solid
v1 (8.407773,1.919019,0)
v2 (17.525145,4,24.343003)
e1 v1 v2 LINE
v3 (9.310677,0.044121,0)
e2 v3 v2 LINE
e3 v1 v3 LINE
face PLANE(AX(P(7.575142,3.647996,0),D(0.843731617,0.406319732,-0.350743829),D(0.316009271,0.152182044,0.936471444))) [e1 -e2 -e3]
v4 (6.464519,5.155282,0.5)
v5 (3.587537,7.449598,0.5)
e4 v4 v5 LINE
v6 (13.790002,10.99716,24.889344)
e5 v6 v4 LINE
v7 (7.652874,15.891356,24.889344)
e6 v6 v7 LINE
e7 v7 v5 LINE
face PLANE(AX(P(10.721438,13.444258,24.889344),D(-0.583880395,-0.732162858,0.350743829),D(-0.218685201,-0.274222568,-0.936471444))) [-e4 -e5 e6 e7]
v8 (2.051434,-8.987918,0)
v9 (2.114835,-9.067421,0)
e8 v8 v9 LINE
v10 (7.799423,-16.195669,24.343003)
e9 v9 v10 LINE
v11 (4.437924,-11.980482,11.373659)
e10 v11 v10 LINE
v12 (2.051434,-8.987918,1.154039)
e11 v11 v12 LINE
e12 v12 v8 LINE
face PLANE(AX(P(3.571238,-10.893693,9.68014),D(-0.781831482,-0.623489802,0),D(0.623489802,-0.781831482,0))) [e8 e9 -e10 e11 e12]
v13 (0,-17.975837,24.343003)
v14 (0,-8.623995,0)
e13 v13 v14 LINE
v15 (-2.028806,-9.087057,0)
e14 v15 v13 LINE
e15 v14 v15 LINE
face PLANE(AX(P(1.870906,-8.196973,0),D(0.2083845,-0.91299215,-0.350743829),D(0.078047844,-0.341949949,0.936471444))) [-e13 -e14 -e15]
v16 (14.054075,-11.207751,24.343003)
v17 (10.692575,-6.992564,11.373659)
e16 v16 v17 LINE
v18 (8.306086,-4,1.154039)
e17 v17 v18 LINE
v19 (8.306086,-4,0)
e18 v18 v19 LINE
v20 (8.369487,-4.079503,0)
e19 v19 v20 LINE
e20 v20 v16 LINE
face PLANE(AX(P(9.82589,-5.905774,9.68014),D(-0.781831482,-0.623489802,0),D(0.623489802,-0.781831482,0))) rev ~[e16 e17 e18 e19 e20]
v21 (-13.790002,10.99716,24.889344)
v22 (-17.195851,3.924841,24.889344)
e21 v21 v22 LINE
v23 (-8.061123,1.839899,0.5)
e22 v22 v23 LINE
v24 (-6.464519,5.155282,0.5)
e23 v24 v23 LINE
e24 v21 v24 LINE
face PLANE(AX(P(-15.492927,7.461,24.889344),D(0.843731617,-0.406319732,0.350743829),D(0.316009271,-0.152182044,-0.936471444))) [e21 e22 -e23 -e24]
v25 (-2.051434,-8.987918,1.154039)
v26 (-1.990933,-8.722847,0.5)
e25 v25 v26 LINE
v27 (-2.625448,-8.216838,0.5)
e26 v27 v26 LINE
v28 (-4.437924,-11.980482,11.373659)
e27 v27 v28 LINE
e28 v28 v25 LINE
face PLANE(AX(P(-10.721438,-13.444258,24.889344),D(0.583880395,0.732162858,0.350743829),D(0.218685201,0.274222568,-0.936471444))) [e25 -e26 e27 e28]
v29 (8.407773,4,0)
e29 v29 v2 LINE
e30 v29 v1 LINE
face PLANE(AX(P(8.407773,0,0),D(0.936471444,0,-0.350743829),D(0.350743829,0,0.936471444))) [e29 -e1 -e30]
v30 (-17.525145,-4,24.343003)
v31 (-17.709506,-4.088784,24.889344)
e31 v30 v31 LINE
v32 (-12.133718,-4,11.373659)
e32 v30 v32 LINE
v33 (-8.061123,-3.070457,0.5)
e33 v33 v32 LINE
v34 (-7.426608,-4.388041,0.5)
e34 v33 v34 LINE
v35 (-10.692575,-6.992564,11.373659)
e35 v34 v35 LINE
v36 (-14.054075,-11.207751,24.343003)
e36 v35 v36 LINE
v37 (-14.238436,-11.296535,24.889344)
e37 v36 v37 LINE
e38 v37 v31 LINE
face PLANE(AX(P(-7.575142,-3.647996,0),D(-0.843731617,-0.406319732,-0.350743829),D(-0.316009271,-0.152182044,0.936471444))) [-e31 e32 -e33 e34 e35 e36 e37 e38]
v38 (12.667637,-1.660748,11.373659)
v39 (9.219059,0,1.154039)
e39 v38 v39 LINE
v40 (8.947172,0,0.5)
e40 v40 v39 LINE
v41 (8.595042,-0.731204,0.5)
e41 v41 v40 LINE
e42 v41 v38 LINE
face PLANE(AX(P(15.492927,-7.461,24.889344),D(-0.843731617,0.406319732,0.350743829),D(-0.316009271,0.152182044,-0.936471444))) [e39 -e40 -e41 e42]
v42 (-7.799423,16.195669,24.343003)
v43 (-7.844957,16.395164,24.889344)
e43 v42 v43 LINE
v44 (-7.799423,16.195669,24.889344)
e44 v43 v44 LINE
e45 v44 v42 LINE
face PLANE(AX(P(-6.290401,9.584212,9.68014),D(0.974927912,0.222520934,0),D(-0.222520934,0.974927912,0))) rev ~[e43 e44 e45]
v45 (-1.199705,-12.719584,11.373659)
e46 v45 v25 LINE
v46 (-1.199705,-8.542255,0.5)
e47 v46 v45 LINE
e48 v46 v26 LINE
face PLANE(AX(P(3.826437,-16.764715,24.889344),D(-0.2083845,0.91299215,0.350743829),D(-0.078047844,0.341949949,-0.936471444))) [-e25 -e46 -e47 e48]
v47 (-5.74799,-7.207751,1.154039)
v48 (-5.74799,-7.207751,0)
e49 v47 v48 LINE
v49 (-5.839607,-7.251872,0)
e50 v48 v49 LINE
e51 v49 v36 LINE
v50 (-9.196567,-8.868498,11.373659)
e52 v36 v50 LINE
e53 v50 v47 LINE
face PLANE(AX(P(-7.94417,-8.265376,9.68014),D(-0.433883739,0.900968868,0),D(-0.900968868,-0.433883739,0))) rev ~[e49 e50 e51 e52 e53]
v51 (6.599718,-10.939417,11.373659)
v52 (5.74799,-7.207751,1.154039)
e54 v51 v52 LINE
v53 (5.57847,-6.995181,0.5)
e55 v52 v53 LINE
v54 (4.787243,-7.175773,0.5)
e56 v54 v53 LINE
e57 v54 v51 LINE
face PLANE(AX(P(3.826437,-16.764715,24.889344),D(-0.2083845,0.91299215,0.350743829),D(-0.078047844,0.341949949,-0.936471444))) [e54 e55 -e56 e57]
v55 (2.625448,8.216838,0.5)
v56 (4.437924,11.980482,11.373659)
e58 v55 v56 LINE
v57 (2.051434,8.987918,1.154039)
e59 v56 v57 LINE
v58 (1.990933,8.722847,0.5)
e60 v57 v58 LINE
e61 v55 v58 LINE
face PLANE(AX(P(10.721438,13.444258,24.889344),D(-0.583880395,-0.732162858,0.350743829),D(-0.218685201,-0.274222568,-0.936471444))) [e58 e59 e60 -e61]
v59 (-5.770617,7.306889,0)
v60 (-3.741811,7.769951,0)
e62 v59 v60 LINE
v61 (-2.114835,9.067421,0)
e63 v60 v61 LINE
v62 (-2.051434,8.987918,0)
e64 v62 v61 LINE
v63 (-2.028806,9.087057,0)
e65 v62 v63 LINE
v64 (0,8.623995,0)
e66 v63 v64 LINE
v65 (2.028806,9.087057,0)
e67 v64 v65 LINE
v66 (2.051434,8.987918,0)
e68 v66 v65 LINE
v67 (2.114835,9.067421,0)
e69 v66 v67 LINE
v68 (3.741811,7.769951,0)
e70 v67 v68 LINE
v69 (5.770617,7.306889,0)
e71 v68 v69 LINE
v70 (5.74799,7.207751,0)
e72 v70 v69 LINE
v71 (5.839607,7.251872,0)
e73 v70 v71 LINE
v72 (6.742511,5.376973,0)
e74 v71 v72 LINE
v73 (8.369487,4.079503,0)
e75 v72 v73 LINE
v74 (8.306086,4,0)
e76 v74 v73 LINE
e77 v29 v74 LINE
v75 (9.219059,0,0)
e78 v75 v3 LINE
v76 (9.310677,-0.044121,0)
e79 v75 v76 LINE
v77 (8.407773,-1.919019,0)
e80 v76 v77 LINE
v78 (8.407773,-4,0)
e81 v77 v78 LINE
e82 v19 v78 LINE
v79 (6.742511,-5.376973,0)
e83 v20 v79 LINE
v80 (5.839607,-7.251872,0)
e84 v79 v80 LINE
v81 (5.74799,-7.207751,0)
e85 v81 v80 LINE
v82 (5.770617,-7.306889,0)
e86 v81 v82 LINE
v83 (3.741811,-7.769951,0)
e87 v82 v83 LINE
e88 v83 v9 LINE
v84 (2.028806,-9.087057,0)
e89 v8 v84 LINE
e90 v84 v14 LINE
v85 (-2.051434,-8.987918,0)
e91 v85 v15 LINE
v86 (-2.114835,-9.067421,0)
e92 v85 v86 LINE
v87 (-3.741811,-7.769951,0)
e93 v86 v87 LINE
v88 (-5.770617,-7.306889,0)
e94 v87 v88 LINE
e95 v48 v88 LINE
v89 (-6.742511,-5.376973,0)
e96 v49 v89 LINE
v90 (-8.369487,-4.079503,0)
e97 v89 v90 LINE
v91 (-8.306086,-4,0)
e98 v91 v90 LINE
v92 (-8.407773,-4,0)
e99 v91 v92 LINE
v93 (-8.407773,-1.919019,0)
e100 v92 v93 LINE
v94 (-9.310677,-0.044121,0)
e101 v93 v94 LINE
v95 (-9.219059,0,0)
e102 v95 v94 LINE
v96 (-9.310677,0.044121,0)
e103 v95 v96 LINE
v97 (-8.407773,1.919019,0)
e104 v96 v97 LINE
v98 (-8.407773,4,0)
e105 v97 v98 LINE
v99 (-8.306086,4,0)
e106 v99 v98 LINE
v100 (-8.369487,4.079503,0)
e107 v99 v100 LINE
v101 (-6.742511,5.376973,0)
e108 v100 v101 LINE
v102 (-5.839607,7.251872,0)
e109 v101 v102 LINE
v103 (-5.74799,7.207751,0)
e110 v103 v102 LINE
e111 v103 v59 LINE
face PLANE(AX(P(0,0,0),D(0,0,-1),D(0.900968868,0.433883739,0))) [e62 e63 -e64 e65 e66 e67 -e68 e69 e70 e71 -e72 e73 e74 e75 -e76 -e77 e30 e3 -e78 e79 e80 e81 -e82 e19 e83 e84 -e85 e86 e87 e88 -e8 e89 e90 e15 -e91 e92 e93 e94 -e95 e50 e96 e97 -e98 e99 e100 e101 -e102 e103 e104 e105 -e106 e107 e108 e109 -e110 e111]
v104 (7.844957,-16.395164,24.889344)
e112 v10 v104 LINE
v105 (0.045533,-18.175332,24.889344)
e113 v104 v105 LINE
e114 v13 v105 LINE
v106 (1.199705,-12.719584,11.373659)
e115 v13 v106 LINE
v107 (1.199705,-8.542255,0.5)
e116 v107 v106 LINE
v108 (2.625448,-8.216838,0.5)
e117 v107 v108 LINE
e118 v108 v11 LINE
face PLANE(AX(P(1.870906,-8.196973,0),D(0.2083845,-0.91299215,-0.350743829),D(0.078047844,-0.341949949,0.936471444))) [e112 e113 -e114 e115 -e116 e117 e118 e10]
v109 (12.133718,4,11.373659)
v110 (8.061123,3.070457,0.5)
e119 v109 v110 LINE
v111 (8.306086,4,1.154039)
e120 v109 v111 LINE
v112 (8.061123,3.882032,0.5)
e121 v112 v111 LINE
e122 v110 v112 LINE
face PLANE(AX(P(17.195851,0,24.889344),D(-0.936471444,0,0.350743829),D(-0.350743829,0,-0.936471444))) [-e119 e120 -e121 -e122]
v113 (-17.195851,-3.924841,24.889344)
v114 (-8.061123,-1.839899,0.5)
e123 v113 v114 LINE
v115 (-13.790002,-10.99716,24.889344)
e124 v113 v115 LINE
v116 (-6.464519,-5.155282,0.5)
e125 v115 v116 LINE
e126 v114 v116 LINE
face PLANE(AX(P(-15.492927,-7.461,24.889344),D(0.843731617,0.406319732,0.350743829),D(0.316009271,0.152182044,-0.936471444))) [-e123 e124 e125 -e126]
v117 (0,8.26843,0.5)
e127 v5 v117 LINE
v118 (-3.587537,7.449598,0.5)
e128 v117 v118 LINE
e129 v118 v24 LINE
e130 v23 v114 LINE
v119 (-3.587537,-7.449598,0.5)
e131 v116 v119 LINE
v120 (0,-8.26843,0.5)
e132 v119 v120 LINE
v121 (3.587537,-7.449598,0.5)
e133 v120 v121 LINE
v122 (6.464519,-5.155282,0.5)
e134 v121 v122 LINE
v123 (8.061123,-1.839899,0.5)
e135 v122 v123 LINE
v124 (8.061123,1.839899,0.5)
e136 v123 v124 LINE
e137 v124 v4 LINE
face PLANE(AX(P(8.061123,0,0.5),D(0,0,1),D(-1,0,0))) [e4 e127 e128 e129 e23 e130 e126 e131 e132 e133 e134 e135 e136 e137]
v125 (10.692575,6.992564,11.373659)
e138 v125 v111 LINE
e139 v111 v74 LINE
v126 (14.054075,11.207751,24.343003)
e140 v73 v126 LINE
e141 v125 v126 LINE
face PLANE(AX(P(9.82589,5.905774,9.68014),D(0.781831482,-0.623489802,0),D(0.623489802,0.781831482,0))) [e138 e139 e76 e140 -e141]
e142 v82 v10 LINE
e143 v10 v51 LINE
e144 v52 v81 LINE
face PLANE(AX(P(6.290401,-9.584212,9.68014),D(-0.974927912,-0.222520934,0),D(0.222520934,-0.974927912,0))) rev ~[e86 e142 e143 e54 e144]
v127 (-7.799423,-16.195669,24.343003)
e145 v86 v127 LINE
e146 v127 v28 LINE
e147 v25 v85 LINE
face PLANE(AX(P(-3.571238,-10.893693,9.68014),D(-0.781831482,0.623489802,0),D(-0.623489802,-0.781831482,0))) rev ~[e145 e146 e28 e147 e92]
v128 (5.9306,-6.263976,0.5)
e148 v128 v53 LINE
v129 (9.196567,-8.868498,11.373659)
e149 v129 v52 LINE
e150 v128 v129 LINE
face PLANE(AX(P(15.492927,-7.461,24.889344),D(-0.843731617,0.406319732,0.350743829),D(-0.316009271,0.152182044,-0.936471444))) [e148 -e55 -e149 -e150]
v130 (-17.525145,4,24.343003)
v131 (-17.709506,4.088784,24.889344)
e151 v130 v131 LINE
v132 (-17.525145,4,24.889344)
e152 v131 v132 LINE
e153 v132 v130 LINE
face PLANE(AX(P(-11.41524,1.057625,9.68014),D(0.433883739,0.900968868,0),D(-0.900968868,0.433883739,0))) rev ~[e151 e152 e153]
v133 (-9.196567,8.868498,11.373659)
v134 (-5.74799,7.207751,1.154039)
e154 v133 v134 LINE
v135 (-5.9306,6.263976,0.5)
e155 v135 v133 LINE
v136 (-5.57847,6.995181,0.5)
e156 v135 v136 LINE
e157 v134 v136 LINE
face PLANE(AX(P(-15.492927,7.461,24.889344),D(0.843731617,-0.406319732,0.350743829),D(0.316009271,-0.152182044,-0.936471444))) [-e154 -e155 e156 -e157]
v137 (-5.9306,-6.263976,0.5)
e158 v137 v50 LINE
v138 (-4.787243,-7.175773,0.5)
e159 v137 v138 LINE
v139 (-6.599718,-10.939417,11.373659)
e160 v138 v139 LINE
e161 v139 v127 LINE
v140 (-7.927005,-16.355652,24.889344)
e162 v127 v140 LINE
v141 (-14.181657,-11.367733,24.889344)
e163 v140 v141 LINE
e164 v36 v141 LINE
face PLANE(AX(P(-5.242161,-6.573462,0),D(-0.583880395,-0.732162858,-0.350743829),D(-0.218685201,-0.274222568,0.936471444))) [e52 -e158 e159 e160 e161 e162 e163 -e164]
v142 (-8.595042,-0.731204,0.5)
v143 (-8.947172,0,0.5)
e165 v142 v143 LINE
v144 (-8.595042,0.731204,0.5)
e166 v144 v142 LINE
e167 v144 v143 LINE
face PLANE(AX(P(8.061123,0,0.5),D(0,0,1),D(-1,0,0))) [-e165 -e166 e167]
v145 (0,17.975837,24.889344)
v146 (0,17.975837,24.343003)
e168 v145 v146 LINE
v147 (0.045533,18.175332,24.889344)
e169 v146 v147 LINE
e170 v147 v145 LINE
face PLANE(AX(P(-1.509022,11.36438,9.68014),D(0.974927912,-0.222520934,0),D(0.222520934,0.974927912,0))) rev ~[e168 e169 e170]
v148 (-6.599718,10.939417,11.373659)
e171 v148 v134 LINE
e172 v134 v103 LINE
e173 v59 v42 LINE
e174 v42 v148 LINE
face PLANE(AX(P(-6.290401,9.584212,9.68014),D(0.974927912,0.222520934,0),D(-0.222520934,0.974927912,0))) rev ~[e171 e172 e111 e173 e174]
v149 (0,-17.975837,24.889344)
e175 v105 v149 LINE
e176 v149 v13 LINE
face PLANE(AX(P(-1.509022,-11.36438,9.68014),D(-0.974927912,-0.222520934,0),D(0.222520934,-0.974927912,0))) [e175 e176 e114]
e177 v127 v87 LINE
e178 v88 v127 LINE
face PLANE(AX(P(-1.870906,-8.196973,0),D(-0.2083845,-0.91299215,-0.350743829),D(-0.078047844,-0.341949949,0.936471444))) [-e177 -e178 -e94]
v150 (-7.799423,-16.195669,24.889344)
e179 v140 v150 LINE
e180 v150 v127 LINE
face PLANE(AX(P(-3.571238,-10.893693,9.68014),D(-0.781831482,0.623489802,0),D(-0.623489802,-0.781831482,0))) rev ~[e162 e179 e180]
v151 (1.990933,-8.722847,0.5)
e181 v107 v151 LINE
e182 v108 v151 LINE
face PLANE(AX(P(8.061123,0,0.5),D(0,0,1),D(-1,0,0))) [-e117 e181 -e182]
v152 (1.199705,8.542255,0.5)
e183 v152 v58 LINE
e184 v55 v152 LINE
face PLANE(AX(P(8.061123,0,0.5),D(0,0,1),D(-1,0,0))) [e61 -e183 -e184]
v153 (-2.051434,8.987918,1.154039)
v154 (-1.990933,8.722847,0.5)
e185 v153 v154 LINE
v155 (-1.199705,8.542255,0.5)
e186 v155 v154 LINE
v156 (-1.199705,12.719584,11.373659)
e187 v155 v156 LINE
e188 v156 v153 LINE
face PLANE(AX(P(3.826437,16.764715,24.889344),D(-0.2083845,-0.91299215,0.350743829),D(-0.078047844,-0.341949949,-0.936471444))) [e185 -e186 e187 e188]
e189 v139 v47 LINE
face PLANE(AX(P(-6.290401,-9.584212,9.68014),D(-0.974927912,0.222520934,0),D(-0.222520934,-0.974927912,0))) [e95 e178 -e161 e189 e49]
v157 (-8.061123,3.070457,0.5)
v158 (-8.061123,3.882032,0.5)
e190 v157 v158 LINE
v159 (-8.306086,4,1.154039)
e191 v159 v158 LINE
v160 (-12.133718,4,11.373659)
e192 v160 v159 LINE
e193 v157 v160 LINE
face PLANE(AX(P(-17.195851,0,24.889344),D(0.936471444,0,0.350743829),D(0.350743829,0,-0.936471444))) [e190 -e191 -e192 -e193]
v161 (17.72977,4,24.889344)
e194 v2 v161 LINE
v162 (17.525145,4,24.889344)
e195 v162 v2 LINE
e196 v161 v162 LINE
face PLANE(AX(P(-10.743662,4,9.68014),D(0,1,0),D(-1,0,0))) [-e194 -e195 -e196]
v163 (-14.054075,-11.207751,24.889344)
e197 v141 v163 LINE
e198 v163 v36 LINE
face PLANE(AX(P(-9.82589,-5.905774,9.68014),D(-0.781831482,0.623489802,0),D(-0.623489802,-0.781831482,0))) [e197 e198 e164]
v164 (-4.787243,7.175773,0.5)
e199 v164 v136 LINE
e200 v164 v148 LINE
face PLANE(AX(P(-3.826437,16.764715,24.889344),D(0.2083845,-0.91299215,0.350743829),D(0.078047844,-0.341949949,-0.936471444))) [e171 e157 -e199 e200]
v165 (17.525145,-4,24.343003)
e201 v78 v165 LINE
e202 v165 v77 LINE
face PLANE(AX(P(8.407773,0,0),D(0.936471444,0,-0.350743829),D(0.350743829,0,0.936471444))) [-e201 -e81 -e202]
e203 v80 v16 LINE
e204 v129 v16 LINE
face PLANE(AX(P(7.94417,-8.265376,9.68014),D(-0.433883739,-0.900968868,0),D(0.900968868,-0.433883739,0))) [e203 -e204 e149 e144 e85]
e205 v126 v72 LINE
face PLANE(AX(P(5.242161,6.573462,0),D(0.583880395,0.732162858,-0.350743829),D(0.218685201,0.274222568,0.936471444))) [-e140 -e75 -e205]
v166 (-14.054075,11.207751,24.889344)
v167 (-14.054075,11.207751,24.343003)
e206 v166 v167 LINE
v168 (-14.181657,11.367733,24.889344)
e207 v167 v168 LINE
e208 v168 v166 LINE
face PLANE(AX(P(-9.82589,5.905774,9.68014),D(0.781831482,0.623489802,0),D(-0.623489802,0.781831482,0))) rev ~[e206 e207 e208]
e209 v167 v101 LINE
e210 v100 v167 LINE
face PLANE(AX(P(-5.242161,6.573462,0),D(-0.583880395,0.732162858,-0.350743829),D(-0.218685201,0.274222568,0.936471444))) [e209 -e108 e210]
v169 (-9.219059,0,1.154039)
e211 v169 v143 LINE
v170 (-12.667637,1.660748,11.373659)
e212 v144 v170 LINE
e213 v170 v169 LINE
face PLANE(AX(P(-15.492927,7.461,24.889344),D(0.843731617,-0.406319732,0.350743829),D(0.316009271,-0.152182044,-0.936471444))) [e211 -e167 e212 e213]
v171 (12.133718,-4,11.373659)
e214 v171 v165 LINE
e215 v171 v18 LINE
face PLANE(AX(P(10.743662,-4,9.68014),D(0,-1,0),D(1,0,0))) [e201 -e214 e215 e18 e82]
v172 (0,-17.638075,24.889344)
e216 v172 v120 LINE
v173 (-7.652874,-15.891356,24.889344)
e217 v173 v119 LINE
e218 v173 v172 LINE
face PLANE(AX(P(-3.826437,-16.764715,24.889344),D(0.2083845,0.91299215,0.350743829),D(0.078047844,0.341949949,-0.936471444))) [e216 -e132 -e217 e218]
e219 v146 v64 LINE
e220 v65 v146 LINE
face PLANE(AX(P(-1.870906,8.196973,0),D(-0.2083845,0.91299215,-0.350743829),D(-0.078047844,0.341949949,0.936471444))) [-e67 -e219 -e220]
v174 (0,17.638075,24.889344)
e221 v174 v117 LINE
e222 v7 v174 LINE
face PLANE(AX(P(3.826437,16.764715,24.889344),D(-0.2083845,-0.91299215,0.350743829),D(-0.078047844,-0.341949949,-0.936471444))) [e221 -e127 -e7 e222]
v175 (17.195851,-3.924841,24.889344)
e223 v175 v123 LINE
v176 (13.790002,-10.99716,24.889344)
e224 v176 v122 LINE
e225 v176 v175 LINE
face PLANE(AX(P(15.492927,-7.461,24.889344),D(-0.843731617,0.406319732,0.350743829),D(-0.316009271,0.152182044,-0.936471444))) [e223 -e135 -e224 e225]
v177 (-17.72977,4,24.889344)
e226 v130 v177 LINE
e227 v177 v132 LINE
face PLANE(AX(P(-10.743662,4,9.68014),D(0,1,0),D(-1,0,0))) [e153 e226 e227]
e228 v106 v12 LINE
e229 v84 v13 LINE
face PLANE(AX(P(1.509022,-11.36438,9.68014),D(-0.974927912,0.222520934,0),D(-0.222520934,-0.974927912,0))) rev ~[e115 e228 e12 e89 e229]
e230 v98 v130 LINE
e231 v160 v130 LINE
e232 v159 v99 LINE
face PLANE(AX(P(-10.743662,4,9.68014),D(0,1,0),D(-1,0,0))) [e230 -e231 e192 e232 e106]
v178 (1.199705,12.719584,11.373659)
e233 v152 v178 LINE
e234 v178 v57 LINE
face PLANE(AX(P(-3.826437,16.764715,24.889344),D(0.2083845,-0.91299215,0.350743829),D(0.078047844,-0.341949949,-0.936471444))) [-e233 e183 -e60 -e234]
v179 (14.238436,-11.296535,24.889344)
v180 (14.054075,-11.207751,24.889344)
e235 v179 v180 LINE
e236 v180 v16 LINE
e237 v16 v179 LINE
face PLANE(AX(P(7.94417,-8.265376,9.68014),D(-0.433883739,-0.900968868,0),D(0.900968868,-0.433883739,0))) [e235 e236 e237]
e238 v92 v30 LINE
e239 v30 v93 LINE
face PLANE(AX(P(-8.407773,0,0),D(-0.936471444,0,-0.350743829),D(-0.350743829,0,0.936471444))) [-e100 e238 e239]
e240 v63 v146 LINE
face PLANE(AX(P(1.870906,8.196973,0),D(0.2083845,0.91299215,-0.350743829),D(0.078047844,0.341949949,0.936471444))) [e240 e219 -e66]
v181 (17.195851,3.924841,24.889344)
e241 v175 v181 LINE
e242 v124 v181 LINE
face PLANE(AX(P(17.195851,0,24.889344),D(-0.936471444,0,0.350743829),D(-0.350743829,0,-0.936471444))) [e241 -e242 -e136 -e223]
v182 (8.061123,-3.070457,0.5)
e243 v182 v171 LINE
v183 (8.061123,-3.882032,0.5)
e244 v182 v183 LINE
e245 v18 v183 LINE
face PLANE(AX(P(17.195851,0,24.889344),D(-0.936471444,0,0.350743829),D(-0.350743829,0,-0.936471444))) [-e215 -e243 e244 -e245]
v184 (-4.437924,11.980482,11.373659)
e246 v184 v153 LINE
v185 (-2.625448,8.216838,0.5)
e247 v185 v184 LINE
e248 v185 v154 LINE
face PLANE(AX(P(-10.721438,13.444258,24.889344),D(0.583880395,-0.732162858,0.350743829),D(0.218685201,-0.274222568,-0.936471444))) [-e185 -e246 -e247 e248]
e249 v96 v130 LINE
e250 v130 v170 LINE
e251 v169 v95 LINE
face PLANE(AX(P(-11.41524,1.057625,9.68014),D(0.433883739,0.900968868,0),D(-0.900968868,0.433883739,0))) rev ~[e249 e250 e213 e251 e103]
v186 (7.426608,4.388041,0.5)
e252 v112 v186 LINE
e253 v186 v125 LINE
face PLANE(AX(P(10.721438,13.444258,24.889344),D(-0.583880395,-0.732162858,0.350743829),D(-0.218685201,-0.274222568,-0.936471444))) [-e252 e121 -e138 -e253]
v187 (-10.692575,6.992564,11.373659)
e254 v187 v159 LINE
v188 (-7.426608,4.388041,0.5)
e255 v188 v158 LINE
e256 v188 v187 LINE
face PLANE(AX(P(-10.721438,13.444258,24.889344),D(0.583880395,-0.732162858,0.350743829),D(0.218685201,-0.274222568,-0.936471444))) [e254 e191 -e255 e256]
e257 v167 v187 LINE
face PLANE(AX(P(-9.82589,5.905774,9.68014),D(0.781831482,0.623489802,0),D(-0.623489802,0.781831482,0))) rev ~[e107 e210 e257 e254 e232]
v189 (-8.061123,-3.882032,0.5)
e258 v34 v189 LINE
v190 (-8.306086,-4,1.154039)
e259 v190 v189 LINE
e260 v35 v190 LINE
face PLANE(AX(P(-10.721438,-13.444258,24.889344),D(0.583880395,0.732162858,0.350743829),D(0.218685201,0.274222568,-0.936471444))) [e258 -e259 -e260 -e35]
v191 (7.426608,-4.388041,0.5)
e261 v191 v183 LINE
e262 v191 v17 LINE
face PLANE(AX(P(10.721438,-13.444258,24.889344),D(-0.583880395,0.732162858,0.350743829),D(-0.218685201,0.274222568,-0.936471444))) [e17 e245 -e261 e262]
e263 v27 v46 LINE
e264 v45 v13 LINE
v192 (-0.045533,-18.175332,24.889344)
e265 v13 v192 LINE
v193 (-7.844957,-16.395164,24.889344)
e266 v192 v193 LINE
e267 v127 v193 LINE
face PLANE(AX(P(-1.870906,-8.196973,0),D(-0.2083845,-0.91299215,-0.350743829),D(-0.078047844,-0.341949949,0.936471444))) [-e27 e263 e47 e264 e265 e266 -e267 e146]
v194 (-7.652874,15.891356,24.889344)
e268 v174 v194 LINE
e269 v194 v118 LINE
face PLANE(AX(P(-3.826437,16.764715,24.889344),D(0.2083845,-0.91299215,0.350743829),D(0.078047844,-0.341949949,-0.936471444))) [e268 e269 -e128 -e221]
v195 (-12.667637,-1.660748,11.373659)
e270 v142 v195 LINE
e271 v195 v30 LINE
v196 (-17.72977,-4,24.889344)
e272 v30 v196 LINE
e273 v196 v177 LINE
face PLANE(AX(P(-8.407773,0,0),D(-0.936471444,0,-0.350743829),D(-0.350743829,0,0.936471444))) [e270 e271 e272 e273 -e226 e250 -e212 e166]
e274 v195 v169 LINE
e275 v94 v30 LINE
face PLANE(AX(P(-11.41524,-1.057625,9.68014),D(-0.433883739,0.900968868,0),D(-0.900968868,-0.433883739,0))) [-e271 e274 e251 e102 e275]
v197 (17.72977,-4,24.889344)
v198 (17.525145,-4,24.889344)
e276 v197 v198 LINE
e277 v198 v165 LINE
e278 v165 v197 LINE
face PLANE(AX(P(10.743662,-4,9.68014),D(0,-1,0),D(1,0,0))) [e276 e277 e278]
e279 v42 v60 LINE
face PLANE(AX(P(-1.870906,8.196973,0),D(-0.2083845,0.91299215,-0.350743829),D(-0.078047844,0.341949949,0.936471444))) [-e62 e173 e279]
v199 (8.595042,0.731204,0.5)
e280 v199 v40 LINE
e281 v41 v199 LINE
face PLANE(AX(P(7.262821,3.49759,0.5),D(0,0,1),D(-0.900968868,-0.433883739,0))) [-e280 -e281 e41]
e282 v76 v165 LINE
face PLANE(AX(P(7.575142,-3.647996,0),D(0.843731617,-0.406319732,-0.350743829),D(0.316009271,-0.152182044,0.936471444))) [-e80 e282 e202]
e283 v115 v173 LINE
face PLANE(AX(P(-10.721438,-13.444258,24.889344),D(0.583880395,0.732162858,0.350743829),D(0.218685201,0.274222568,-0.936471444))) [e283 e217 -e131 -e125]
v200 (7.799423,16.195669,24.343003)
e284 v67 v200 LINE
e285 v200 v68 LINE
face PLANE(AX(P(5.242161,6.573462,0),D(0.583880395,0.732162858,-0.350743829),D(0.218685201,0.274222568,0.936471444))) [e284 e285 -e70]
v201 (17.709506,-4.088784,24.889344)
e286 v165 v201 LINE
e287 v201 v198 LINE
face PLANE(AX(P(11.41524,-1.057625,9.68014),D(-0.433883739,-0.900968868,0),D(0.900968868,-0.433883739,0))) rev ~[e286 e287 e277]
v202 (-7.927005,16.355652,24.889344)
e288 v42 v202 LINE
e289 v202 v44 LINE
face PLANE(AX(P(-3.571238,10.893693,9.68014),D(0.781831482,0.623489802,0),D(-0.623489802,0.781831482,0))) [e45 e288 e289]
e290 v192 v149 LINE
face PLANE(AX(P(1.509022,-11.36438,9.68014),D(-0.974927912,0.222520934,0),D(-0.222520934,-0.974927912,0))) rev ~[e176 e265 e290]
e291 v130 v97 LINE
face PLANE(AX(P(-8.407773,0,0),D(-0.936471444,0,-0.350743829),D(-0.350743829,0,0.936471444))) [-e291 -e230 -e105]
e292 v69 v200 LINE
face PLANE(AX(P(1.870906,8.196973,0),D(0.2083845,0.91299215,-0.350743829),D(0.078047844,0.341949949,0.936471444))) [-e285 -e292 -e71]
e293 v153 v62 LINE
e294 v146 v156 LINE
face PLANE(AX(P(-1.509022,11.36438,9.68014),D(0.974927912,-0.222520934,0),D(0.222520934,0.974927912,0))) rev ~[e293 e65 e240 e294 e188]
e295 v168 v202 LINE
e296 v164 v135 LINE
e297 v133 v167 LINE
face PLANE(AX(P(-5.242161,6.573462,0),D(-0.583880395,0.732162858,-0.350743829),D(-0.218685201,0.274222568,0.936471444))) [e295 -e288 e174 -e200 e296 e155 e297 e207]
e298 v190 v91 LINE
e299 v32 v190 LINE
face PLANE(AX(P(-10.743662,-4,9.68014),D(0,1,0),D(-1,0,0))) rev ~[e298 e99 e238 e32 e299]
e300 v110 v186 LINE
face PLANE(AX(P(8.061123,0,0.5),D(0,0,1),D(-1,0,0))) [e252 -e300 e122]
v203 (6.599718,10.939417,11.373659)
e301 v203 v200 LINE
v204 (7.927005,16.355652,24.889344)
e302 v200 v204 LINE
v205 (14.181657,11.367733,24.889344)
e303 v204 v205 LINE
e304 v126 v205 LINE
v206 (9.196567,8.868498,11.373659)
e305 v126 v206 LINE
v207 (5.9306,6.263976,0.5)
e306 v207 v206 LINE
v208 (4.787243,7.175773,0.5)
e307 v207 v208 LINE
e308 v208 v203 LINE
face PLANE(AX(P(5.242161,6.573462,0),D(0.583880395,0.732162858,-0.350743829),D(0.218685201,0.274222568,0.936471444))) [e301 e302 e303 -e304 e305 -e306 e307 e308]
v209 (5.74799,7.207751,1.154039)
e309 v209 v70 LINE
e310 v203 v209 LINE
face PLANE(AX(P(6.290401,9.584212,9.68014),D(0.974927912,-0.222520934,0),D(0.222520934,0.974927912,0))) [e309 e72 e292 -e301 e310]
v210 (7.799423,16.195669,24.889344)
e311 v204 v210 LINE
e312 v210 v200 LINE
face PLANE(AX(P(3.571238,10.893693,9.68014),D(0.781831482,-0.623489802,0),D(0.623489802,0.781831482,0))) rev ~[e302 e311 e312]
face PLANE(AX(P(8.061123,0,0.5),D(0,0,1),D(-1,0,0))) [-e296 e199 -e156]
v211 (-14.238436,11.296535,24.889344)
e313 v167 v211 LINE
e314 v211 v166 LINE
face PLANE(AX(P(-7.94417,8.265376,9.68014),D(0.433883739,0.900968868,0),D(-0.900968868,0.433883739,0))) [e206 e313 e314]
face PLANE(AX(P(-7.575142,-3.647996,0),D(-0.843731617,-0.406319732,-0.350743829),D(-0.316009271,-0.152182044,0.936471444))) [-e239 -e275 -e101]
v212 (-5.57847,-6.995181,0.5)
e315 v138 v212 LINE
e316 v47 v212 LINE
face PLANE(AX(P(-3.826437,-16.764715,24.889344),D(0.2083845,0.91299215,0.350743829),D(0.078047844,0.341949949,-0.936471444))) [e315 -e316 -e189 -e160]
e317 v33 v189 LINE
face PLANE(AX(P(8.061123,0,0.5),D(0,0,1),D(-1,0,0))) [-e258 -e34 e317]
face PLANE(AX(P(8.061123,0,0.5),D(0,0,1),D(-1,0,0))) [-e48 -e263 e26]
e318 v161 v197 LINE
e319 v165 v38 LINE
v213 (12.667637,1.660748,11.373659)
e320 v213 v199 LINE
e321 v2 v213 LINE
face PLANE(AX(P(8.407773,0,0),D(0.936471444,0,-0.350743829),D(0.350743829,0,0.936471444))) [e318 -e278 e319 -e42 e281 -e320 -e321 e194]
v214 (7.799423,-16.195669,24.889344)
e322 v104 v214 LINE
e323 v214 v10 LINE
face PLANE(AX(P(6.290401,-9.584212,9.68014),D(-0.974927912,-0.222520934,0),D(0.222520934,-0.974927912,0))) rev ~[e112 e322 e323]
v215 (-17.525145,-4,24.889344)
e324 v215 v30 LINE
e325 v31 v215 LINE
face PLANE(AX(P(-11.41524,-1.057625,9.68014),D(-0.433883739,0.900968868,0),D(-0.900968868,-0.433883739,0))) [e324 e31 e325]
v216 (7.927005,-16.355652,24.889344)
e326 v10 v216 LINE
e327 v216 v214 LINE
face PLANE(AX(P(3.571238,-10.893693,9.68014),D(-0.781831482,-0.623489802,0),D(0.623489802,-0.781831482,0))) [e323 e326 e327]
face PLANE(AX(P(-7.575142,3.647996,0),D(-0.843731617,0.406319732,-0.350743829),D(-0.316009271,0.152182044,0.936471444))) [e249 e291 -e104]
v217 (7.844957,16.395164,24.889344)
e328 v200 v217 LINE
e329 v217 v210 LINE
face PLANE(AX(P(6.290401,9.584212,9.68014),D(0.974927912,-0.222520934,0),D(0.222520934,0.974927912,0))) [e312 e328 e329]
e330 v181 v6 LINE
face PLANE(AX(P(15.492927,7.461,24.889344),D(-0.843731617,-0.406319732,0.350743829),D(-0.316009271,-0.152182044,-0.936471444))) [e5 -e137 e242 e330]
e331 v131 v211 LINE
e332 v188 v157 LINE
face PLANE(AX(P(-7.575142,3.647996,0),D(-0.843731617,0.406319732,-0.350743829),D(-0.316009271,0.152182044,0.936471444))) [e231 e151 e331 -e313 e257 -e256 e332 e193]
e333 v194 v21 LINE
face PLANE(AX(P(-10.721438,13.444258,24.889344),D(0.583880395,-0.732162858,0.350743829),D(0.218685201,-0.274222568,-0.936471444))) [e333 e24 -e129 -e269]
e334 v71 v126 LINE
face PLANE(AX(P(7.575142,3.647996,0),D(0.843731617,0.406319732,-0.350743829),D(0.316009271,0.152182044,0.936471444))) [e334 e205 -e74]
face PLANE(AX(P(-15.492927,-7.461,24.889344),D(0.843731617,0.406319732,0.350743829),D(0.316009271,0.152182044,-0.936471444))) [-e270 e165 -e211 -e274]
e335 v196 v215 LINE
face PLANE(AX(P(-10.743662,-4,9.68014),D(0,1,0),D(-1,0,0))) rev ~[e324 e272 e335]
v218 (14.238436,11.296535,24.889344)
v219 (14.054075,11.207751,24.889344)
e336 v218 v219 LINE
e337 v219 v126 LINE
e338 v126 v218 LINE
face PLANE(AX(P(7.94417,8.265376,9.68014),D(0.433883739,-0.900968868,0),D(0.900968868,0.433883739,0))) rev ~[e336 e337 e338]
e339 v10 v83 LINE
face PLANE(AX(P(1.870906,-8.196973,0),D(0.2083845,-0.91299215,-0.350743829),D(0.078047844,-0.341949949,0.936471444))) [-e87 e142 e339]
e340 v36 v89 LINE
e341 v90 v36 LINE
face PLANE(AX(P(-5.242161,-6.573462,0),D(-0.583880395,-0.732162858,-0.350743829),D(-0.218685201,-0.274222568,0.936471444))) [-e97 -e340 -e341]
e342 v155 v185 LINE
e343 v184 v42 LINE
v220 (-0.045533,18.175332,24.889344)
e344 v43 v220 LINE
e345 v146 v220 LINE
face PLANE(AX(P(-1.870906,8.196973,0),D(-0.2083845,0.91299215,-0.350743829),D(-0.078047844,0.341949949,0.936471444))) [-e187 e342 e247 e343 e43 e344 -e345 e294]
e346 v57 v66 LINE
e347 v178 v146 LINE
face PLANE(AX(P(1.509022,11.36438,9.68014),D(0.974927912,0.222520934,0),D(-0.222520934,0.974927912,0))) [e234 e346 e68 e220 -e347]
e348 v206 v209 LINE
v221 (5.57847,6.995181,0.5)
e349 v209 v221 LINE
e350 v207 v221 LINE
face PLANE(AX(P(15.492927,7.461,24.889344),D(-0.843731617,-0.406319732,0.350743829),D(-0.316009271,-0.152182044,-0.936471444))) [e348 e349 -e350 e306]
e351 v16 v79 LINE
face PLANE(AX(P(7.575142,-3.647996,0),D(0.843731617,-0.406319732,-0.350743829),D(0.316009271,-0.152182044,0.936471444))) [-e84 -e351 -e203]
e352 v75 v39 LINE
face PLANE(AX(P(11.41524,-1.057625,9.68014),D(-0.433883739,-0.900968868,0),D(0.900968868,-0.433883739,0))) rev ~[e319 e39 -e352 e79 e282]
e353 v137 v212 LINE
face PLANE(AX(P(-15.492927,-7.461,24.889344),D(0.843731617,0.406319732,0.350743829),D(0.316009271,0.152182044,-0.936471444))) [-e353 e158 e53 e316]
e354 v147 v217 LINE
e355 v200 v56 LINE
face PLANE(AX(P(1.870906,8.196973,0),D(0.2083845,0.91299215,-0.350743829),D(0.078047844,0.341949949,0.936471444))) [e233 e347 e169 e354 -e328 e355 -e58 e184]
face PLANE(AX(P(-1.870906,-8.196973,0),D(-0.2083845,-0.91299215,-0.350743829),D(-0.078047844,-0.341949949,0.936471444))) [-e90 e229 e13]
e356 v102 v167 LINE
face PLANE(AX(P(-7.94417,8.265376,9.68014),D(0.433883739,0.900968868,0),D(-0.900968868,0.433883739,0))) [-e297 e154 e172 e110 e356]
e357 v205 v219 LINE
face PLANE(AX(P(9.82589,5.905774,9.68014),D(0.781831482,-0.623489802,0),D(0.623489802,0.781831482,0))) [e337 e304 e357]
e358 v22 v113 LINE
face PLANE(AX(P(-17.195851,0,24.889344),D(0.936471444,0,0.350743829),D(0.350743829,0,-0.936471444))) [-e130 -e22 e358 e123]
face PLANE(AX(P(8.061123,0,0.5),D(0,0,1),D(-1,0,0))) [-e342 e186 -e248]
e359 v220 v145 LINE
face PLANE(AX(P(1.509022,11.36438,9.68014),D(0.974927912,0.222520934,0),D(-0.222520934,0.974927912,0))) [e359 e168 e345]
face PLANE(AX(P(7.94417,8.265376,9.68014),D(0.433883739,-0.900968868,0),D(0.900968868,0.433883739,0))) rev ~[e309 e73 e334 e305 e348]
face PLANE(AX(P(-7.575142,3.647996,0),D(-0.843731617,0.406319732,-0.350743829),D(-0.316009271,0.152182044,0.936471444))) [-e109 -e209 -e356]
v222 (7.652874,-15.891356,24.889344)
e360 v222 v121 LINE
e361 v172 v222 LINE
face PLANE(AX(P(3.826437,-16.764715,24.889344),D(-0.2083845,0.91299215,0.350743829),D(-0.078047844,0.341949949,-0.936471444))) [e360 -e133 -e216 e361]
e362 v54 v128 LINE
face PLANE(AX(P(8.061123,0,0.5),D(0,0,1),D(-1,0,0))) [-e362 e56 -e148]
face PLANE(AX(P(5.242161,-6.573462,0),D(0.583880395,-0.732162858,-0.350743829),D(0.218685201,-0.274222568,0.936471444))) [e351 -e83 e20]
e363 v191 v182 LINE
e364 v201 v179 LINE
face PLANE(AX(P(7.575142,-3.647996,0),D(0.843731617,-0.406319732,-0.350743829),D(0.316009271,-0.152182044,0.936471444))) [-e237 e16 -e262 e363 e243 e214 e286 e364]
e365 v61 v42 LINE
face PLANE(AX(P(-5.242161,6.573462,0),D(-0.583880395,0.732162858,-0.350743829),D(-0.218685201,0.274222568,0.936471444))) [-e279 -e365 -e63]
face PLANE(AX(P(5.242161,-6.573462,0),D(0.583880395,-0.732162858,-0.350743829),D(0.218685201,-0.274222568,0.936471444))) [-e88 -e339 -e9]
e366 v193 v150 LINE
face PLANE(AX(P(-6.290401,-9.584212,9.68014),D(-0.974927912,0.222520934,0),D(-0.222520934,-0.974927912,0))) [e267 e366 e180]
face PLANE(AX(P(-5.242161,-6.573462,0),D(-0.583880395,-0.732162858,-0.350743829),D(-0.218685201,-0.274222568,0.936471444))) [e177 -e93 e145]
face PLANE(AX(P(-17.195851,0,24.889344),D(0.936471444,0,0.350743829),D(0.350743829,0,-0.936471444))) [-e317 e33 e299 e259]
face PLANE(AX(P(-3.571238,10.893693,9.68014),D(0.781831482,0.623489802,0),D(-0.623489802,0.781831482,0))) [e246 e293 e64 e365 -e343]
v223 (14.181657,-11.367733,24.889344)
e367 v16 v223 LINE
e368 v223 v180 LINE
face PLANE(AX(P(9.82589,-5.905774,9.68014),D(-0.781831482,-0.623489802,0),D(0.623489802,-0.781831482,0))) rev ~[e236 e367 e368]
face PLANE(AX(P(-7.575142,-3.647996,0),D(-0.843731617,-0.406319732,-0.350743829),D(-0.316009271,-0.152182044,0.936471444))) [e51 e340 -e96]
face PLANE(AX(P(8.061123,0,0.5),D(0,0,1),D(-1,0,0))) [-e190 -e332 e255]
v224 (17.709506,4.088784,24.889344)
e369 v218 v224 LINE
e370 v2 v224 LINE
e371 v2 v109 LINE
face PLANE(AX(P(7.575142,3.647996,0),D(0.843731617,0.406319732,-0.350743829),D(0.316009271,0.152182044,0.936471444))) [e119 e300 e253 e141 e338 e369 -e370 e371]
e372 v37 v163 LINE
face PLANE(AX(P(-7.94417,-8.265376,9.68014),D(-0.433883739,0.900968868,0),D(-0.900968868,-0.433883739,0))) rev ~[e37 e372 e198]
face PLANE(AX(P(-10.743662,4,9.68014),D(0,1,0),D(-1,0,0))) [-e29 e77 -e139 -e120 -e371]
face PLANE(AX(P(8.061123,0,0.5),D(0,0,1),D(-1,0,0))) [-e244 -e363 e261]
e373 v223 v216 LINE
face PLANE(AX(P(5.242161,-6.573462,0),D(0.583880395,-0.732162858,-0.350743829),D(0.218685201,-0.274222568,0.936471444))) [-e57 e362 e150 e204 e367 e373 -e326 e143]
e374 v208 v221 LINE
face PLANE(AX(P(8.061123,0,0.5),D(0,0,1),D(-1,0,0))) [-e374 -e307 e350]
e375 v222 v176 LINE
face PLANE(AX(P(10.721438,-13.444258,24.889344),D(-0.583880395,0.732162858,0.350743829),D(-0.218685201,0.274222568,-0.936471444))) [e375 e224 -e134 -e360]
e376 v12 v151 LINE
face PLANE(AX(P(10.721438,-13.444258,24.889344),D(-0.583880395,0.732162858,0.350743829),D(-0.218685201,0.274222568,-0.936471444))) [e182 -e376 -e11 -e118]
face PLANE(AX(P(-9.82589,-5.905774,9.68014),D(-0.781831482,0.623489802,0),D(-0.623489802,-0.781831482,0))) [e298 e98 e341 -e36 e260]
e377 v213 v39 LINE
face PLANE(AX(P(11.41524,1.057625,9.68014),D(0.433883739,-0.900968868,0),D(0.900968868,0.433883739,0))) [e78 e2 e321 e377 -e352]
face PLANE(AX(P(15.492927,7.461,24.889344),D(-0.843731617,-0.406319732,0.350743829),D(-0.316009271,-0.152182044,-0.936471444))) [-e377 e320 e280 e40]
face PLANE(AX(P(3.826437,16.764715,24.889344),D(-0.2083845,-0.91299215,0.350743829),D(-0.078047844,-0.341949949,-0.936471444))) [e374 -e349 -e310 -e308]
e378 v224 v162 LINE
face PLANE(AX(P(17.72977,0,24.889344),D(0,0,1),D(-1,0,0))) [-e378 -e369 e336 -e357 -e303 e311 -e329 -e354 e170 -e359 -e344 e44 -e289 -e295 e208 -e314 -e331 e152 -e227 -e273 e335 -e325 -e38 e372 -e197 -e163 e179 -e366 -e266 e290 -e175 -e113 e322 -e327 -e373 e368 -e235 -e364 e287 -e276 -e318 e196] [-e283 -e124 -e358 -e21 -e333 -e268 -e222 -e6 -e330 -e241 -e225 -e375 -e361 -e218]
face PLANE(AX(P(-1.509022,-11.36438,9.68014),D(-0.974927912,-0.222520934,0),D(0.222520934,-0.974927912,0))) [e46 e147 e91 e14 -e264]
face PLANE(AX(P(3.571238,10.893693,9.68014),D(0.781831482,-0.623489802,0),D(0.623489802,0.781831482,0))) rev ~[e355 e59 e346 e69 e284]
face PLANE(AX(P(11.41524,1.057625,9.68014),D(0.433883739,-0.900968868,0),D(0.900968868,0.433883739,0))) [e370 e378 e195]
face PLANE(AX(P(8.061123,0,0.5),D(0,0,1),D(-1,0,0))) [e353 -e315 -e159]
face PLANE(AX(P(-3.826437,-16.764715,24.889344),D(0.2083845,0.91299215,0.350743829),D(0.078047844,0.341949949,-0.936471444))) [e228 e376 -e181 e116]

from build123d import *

# Parameters (mm, degrees)
F1_DEPTH      = 4
F1_DEPTH_BACK = 4
F2_COUNT      = 14


with BuildPart() as f1:
    # F0 (on Front) → F1 (new body, two sides)
    with BuildSketch(Plane.XZ) as f1_sk:
        Polygon((0, 0.5), (0, 0), (8.40777345, 0), (17.7297703922, 24.8893443495), (17.1958512824, 24.8893443495), (8.0611231732, 0.5), align=None)
    extrude(amount=F1_DEPTH)
    extrude(f1_sk.sketch, amount=-F1_DEPTH_BACK)

    # F2: F1 ×14 about axis
    f2_axis = Axis((0, 0, 1.0500000276), (0, 0, -1))


with BuildPart() as f1_1:
    add(f1.part)
    for i in range(1, F2_COUNT):
        add(f1.part.rotate(f2_axis, i * 360 / F2_COUNT))


solid = f1_1.part
